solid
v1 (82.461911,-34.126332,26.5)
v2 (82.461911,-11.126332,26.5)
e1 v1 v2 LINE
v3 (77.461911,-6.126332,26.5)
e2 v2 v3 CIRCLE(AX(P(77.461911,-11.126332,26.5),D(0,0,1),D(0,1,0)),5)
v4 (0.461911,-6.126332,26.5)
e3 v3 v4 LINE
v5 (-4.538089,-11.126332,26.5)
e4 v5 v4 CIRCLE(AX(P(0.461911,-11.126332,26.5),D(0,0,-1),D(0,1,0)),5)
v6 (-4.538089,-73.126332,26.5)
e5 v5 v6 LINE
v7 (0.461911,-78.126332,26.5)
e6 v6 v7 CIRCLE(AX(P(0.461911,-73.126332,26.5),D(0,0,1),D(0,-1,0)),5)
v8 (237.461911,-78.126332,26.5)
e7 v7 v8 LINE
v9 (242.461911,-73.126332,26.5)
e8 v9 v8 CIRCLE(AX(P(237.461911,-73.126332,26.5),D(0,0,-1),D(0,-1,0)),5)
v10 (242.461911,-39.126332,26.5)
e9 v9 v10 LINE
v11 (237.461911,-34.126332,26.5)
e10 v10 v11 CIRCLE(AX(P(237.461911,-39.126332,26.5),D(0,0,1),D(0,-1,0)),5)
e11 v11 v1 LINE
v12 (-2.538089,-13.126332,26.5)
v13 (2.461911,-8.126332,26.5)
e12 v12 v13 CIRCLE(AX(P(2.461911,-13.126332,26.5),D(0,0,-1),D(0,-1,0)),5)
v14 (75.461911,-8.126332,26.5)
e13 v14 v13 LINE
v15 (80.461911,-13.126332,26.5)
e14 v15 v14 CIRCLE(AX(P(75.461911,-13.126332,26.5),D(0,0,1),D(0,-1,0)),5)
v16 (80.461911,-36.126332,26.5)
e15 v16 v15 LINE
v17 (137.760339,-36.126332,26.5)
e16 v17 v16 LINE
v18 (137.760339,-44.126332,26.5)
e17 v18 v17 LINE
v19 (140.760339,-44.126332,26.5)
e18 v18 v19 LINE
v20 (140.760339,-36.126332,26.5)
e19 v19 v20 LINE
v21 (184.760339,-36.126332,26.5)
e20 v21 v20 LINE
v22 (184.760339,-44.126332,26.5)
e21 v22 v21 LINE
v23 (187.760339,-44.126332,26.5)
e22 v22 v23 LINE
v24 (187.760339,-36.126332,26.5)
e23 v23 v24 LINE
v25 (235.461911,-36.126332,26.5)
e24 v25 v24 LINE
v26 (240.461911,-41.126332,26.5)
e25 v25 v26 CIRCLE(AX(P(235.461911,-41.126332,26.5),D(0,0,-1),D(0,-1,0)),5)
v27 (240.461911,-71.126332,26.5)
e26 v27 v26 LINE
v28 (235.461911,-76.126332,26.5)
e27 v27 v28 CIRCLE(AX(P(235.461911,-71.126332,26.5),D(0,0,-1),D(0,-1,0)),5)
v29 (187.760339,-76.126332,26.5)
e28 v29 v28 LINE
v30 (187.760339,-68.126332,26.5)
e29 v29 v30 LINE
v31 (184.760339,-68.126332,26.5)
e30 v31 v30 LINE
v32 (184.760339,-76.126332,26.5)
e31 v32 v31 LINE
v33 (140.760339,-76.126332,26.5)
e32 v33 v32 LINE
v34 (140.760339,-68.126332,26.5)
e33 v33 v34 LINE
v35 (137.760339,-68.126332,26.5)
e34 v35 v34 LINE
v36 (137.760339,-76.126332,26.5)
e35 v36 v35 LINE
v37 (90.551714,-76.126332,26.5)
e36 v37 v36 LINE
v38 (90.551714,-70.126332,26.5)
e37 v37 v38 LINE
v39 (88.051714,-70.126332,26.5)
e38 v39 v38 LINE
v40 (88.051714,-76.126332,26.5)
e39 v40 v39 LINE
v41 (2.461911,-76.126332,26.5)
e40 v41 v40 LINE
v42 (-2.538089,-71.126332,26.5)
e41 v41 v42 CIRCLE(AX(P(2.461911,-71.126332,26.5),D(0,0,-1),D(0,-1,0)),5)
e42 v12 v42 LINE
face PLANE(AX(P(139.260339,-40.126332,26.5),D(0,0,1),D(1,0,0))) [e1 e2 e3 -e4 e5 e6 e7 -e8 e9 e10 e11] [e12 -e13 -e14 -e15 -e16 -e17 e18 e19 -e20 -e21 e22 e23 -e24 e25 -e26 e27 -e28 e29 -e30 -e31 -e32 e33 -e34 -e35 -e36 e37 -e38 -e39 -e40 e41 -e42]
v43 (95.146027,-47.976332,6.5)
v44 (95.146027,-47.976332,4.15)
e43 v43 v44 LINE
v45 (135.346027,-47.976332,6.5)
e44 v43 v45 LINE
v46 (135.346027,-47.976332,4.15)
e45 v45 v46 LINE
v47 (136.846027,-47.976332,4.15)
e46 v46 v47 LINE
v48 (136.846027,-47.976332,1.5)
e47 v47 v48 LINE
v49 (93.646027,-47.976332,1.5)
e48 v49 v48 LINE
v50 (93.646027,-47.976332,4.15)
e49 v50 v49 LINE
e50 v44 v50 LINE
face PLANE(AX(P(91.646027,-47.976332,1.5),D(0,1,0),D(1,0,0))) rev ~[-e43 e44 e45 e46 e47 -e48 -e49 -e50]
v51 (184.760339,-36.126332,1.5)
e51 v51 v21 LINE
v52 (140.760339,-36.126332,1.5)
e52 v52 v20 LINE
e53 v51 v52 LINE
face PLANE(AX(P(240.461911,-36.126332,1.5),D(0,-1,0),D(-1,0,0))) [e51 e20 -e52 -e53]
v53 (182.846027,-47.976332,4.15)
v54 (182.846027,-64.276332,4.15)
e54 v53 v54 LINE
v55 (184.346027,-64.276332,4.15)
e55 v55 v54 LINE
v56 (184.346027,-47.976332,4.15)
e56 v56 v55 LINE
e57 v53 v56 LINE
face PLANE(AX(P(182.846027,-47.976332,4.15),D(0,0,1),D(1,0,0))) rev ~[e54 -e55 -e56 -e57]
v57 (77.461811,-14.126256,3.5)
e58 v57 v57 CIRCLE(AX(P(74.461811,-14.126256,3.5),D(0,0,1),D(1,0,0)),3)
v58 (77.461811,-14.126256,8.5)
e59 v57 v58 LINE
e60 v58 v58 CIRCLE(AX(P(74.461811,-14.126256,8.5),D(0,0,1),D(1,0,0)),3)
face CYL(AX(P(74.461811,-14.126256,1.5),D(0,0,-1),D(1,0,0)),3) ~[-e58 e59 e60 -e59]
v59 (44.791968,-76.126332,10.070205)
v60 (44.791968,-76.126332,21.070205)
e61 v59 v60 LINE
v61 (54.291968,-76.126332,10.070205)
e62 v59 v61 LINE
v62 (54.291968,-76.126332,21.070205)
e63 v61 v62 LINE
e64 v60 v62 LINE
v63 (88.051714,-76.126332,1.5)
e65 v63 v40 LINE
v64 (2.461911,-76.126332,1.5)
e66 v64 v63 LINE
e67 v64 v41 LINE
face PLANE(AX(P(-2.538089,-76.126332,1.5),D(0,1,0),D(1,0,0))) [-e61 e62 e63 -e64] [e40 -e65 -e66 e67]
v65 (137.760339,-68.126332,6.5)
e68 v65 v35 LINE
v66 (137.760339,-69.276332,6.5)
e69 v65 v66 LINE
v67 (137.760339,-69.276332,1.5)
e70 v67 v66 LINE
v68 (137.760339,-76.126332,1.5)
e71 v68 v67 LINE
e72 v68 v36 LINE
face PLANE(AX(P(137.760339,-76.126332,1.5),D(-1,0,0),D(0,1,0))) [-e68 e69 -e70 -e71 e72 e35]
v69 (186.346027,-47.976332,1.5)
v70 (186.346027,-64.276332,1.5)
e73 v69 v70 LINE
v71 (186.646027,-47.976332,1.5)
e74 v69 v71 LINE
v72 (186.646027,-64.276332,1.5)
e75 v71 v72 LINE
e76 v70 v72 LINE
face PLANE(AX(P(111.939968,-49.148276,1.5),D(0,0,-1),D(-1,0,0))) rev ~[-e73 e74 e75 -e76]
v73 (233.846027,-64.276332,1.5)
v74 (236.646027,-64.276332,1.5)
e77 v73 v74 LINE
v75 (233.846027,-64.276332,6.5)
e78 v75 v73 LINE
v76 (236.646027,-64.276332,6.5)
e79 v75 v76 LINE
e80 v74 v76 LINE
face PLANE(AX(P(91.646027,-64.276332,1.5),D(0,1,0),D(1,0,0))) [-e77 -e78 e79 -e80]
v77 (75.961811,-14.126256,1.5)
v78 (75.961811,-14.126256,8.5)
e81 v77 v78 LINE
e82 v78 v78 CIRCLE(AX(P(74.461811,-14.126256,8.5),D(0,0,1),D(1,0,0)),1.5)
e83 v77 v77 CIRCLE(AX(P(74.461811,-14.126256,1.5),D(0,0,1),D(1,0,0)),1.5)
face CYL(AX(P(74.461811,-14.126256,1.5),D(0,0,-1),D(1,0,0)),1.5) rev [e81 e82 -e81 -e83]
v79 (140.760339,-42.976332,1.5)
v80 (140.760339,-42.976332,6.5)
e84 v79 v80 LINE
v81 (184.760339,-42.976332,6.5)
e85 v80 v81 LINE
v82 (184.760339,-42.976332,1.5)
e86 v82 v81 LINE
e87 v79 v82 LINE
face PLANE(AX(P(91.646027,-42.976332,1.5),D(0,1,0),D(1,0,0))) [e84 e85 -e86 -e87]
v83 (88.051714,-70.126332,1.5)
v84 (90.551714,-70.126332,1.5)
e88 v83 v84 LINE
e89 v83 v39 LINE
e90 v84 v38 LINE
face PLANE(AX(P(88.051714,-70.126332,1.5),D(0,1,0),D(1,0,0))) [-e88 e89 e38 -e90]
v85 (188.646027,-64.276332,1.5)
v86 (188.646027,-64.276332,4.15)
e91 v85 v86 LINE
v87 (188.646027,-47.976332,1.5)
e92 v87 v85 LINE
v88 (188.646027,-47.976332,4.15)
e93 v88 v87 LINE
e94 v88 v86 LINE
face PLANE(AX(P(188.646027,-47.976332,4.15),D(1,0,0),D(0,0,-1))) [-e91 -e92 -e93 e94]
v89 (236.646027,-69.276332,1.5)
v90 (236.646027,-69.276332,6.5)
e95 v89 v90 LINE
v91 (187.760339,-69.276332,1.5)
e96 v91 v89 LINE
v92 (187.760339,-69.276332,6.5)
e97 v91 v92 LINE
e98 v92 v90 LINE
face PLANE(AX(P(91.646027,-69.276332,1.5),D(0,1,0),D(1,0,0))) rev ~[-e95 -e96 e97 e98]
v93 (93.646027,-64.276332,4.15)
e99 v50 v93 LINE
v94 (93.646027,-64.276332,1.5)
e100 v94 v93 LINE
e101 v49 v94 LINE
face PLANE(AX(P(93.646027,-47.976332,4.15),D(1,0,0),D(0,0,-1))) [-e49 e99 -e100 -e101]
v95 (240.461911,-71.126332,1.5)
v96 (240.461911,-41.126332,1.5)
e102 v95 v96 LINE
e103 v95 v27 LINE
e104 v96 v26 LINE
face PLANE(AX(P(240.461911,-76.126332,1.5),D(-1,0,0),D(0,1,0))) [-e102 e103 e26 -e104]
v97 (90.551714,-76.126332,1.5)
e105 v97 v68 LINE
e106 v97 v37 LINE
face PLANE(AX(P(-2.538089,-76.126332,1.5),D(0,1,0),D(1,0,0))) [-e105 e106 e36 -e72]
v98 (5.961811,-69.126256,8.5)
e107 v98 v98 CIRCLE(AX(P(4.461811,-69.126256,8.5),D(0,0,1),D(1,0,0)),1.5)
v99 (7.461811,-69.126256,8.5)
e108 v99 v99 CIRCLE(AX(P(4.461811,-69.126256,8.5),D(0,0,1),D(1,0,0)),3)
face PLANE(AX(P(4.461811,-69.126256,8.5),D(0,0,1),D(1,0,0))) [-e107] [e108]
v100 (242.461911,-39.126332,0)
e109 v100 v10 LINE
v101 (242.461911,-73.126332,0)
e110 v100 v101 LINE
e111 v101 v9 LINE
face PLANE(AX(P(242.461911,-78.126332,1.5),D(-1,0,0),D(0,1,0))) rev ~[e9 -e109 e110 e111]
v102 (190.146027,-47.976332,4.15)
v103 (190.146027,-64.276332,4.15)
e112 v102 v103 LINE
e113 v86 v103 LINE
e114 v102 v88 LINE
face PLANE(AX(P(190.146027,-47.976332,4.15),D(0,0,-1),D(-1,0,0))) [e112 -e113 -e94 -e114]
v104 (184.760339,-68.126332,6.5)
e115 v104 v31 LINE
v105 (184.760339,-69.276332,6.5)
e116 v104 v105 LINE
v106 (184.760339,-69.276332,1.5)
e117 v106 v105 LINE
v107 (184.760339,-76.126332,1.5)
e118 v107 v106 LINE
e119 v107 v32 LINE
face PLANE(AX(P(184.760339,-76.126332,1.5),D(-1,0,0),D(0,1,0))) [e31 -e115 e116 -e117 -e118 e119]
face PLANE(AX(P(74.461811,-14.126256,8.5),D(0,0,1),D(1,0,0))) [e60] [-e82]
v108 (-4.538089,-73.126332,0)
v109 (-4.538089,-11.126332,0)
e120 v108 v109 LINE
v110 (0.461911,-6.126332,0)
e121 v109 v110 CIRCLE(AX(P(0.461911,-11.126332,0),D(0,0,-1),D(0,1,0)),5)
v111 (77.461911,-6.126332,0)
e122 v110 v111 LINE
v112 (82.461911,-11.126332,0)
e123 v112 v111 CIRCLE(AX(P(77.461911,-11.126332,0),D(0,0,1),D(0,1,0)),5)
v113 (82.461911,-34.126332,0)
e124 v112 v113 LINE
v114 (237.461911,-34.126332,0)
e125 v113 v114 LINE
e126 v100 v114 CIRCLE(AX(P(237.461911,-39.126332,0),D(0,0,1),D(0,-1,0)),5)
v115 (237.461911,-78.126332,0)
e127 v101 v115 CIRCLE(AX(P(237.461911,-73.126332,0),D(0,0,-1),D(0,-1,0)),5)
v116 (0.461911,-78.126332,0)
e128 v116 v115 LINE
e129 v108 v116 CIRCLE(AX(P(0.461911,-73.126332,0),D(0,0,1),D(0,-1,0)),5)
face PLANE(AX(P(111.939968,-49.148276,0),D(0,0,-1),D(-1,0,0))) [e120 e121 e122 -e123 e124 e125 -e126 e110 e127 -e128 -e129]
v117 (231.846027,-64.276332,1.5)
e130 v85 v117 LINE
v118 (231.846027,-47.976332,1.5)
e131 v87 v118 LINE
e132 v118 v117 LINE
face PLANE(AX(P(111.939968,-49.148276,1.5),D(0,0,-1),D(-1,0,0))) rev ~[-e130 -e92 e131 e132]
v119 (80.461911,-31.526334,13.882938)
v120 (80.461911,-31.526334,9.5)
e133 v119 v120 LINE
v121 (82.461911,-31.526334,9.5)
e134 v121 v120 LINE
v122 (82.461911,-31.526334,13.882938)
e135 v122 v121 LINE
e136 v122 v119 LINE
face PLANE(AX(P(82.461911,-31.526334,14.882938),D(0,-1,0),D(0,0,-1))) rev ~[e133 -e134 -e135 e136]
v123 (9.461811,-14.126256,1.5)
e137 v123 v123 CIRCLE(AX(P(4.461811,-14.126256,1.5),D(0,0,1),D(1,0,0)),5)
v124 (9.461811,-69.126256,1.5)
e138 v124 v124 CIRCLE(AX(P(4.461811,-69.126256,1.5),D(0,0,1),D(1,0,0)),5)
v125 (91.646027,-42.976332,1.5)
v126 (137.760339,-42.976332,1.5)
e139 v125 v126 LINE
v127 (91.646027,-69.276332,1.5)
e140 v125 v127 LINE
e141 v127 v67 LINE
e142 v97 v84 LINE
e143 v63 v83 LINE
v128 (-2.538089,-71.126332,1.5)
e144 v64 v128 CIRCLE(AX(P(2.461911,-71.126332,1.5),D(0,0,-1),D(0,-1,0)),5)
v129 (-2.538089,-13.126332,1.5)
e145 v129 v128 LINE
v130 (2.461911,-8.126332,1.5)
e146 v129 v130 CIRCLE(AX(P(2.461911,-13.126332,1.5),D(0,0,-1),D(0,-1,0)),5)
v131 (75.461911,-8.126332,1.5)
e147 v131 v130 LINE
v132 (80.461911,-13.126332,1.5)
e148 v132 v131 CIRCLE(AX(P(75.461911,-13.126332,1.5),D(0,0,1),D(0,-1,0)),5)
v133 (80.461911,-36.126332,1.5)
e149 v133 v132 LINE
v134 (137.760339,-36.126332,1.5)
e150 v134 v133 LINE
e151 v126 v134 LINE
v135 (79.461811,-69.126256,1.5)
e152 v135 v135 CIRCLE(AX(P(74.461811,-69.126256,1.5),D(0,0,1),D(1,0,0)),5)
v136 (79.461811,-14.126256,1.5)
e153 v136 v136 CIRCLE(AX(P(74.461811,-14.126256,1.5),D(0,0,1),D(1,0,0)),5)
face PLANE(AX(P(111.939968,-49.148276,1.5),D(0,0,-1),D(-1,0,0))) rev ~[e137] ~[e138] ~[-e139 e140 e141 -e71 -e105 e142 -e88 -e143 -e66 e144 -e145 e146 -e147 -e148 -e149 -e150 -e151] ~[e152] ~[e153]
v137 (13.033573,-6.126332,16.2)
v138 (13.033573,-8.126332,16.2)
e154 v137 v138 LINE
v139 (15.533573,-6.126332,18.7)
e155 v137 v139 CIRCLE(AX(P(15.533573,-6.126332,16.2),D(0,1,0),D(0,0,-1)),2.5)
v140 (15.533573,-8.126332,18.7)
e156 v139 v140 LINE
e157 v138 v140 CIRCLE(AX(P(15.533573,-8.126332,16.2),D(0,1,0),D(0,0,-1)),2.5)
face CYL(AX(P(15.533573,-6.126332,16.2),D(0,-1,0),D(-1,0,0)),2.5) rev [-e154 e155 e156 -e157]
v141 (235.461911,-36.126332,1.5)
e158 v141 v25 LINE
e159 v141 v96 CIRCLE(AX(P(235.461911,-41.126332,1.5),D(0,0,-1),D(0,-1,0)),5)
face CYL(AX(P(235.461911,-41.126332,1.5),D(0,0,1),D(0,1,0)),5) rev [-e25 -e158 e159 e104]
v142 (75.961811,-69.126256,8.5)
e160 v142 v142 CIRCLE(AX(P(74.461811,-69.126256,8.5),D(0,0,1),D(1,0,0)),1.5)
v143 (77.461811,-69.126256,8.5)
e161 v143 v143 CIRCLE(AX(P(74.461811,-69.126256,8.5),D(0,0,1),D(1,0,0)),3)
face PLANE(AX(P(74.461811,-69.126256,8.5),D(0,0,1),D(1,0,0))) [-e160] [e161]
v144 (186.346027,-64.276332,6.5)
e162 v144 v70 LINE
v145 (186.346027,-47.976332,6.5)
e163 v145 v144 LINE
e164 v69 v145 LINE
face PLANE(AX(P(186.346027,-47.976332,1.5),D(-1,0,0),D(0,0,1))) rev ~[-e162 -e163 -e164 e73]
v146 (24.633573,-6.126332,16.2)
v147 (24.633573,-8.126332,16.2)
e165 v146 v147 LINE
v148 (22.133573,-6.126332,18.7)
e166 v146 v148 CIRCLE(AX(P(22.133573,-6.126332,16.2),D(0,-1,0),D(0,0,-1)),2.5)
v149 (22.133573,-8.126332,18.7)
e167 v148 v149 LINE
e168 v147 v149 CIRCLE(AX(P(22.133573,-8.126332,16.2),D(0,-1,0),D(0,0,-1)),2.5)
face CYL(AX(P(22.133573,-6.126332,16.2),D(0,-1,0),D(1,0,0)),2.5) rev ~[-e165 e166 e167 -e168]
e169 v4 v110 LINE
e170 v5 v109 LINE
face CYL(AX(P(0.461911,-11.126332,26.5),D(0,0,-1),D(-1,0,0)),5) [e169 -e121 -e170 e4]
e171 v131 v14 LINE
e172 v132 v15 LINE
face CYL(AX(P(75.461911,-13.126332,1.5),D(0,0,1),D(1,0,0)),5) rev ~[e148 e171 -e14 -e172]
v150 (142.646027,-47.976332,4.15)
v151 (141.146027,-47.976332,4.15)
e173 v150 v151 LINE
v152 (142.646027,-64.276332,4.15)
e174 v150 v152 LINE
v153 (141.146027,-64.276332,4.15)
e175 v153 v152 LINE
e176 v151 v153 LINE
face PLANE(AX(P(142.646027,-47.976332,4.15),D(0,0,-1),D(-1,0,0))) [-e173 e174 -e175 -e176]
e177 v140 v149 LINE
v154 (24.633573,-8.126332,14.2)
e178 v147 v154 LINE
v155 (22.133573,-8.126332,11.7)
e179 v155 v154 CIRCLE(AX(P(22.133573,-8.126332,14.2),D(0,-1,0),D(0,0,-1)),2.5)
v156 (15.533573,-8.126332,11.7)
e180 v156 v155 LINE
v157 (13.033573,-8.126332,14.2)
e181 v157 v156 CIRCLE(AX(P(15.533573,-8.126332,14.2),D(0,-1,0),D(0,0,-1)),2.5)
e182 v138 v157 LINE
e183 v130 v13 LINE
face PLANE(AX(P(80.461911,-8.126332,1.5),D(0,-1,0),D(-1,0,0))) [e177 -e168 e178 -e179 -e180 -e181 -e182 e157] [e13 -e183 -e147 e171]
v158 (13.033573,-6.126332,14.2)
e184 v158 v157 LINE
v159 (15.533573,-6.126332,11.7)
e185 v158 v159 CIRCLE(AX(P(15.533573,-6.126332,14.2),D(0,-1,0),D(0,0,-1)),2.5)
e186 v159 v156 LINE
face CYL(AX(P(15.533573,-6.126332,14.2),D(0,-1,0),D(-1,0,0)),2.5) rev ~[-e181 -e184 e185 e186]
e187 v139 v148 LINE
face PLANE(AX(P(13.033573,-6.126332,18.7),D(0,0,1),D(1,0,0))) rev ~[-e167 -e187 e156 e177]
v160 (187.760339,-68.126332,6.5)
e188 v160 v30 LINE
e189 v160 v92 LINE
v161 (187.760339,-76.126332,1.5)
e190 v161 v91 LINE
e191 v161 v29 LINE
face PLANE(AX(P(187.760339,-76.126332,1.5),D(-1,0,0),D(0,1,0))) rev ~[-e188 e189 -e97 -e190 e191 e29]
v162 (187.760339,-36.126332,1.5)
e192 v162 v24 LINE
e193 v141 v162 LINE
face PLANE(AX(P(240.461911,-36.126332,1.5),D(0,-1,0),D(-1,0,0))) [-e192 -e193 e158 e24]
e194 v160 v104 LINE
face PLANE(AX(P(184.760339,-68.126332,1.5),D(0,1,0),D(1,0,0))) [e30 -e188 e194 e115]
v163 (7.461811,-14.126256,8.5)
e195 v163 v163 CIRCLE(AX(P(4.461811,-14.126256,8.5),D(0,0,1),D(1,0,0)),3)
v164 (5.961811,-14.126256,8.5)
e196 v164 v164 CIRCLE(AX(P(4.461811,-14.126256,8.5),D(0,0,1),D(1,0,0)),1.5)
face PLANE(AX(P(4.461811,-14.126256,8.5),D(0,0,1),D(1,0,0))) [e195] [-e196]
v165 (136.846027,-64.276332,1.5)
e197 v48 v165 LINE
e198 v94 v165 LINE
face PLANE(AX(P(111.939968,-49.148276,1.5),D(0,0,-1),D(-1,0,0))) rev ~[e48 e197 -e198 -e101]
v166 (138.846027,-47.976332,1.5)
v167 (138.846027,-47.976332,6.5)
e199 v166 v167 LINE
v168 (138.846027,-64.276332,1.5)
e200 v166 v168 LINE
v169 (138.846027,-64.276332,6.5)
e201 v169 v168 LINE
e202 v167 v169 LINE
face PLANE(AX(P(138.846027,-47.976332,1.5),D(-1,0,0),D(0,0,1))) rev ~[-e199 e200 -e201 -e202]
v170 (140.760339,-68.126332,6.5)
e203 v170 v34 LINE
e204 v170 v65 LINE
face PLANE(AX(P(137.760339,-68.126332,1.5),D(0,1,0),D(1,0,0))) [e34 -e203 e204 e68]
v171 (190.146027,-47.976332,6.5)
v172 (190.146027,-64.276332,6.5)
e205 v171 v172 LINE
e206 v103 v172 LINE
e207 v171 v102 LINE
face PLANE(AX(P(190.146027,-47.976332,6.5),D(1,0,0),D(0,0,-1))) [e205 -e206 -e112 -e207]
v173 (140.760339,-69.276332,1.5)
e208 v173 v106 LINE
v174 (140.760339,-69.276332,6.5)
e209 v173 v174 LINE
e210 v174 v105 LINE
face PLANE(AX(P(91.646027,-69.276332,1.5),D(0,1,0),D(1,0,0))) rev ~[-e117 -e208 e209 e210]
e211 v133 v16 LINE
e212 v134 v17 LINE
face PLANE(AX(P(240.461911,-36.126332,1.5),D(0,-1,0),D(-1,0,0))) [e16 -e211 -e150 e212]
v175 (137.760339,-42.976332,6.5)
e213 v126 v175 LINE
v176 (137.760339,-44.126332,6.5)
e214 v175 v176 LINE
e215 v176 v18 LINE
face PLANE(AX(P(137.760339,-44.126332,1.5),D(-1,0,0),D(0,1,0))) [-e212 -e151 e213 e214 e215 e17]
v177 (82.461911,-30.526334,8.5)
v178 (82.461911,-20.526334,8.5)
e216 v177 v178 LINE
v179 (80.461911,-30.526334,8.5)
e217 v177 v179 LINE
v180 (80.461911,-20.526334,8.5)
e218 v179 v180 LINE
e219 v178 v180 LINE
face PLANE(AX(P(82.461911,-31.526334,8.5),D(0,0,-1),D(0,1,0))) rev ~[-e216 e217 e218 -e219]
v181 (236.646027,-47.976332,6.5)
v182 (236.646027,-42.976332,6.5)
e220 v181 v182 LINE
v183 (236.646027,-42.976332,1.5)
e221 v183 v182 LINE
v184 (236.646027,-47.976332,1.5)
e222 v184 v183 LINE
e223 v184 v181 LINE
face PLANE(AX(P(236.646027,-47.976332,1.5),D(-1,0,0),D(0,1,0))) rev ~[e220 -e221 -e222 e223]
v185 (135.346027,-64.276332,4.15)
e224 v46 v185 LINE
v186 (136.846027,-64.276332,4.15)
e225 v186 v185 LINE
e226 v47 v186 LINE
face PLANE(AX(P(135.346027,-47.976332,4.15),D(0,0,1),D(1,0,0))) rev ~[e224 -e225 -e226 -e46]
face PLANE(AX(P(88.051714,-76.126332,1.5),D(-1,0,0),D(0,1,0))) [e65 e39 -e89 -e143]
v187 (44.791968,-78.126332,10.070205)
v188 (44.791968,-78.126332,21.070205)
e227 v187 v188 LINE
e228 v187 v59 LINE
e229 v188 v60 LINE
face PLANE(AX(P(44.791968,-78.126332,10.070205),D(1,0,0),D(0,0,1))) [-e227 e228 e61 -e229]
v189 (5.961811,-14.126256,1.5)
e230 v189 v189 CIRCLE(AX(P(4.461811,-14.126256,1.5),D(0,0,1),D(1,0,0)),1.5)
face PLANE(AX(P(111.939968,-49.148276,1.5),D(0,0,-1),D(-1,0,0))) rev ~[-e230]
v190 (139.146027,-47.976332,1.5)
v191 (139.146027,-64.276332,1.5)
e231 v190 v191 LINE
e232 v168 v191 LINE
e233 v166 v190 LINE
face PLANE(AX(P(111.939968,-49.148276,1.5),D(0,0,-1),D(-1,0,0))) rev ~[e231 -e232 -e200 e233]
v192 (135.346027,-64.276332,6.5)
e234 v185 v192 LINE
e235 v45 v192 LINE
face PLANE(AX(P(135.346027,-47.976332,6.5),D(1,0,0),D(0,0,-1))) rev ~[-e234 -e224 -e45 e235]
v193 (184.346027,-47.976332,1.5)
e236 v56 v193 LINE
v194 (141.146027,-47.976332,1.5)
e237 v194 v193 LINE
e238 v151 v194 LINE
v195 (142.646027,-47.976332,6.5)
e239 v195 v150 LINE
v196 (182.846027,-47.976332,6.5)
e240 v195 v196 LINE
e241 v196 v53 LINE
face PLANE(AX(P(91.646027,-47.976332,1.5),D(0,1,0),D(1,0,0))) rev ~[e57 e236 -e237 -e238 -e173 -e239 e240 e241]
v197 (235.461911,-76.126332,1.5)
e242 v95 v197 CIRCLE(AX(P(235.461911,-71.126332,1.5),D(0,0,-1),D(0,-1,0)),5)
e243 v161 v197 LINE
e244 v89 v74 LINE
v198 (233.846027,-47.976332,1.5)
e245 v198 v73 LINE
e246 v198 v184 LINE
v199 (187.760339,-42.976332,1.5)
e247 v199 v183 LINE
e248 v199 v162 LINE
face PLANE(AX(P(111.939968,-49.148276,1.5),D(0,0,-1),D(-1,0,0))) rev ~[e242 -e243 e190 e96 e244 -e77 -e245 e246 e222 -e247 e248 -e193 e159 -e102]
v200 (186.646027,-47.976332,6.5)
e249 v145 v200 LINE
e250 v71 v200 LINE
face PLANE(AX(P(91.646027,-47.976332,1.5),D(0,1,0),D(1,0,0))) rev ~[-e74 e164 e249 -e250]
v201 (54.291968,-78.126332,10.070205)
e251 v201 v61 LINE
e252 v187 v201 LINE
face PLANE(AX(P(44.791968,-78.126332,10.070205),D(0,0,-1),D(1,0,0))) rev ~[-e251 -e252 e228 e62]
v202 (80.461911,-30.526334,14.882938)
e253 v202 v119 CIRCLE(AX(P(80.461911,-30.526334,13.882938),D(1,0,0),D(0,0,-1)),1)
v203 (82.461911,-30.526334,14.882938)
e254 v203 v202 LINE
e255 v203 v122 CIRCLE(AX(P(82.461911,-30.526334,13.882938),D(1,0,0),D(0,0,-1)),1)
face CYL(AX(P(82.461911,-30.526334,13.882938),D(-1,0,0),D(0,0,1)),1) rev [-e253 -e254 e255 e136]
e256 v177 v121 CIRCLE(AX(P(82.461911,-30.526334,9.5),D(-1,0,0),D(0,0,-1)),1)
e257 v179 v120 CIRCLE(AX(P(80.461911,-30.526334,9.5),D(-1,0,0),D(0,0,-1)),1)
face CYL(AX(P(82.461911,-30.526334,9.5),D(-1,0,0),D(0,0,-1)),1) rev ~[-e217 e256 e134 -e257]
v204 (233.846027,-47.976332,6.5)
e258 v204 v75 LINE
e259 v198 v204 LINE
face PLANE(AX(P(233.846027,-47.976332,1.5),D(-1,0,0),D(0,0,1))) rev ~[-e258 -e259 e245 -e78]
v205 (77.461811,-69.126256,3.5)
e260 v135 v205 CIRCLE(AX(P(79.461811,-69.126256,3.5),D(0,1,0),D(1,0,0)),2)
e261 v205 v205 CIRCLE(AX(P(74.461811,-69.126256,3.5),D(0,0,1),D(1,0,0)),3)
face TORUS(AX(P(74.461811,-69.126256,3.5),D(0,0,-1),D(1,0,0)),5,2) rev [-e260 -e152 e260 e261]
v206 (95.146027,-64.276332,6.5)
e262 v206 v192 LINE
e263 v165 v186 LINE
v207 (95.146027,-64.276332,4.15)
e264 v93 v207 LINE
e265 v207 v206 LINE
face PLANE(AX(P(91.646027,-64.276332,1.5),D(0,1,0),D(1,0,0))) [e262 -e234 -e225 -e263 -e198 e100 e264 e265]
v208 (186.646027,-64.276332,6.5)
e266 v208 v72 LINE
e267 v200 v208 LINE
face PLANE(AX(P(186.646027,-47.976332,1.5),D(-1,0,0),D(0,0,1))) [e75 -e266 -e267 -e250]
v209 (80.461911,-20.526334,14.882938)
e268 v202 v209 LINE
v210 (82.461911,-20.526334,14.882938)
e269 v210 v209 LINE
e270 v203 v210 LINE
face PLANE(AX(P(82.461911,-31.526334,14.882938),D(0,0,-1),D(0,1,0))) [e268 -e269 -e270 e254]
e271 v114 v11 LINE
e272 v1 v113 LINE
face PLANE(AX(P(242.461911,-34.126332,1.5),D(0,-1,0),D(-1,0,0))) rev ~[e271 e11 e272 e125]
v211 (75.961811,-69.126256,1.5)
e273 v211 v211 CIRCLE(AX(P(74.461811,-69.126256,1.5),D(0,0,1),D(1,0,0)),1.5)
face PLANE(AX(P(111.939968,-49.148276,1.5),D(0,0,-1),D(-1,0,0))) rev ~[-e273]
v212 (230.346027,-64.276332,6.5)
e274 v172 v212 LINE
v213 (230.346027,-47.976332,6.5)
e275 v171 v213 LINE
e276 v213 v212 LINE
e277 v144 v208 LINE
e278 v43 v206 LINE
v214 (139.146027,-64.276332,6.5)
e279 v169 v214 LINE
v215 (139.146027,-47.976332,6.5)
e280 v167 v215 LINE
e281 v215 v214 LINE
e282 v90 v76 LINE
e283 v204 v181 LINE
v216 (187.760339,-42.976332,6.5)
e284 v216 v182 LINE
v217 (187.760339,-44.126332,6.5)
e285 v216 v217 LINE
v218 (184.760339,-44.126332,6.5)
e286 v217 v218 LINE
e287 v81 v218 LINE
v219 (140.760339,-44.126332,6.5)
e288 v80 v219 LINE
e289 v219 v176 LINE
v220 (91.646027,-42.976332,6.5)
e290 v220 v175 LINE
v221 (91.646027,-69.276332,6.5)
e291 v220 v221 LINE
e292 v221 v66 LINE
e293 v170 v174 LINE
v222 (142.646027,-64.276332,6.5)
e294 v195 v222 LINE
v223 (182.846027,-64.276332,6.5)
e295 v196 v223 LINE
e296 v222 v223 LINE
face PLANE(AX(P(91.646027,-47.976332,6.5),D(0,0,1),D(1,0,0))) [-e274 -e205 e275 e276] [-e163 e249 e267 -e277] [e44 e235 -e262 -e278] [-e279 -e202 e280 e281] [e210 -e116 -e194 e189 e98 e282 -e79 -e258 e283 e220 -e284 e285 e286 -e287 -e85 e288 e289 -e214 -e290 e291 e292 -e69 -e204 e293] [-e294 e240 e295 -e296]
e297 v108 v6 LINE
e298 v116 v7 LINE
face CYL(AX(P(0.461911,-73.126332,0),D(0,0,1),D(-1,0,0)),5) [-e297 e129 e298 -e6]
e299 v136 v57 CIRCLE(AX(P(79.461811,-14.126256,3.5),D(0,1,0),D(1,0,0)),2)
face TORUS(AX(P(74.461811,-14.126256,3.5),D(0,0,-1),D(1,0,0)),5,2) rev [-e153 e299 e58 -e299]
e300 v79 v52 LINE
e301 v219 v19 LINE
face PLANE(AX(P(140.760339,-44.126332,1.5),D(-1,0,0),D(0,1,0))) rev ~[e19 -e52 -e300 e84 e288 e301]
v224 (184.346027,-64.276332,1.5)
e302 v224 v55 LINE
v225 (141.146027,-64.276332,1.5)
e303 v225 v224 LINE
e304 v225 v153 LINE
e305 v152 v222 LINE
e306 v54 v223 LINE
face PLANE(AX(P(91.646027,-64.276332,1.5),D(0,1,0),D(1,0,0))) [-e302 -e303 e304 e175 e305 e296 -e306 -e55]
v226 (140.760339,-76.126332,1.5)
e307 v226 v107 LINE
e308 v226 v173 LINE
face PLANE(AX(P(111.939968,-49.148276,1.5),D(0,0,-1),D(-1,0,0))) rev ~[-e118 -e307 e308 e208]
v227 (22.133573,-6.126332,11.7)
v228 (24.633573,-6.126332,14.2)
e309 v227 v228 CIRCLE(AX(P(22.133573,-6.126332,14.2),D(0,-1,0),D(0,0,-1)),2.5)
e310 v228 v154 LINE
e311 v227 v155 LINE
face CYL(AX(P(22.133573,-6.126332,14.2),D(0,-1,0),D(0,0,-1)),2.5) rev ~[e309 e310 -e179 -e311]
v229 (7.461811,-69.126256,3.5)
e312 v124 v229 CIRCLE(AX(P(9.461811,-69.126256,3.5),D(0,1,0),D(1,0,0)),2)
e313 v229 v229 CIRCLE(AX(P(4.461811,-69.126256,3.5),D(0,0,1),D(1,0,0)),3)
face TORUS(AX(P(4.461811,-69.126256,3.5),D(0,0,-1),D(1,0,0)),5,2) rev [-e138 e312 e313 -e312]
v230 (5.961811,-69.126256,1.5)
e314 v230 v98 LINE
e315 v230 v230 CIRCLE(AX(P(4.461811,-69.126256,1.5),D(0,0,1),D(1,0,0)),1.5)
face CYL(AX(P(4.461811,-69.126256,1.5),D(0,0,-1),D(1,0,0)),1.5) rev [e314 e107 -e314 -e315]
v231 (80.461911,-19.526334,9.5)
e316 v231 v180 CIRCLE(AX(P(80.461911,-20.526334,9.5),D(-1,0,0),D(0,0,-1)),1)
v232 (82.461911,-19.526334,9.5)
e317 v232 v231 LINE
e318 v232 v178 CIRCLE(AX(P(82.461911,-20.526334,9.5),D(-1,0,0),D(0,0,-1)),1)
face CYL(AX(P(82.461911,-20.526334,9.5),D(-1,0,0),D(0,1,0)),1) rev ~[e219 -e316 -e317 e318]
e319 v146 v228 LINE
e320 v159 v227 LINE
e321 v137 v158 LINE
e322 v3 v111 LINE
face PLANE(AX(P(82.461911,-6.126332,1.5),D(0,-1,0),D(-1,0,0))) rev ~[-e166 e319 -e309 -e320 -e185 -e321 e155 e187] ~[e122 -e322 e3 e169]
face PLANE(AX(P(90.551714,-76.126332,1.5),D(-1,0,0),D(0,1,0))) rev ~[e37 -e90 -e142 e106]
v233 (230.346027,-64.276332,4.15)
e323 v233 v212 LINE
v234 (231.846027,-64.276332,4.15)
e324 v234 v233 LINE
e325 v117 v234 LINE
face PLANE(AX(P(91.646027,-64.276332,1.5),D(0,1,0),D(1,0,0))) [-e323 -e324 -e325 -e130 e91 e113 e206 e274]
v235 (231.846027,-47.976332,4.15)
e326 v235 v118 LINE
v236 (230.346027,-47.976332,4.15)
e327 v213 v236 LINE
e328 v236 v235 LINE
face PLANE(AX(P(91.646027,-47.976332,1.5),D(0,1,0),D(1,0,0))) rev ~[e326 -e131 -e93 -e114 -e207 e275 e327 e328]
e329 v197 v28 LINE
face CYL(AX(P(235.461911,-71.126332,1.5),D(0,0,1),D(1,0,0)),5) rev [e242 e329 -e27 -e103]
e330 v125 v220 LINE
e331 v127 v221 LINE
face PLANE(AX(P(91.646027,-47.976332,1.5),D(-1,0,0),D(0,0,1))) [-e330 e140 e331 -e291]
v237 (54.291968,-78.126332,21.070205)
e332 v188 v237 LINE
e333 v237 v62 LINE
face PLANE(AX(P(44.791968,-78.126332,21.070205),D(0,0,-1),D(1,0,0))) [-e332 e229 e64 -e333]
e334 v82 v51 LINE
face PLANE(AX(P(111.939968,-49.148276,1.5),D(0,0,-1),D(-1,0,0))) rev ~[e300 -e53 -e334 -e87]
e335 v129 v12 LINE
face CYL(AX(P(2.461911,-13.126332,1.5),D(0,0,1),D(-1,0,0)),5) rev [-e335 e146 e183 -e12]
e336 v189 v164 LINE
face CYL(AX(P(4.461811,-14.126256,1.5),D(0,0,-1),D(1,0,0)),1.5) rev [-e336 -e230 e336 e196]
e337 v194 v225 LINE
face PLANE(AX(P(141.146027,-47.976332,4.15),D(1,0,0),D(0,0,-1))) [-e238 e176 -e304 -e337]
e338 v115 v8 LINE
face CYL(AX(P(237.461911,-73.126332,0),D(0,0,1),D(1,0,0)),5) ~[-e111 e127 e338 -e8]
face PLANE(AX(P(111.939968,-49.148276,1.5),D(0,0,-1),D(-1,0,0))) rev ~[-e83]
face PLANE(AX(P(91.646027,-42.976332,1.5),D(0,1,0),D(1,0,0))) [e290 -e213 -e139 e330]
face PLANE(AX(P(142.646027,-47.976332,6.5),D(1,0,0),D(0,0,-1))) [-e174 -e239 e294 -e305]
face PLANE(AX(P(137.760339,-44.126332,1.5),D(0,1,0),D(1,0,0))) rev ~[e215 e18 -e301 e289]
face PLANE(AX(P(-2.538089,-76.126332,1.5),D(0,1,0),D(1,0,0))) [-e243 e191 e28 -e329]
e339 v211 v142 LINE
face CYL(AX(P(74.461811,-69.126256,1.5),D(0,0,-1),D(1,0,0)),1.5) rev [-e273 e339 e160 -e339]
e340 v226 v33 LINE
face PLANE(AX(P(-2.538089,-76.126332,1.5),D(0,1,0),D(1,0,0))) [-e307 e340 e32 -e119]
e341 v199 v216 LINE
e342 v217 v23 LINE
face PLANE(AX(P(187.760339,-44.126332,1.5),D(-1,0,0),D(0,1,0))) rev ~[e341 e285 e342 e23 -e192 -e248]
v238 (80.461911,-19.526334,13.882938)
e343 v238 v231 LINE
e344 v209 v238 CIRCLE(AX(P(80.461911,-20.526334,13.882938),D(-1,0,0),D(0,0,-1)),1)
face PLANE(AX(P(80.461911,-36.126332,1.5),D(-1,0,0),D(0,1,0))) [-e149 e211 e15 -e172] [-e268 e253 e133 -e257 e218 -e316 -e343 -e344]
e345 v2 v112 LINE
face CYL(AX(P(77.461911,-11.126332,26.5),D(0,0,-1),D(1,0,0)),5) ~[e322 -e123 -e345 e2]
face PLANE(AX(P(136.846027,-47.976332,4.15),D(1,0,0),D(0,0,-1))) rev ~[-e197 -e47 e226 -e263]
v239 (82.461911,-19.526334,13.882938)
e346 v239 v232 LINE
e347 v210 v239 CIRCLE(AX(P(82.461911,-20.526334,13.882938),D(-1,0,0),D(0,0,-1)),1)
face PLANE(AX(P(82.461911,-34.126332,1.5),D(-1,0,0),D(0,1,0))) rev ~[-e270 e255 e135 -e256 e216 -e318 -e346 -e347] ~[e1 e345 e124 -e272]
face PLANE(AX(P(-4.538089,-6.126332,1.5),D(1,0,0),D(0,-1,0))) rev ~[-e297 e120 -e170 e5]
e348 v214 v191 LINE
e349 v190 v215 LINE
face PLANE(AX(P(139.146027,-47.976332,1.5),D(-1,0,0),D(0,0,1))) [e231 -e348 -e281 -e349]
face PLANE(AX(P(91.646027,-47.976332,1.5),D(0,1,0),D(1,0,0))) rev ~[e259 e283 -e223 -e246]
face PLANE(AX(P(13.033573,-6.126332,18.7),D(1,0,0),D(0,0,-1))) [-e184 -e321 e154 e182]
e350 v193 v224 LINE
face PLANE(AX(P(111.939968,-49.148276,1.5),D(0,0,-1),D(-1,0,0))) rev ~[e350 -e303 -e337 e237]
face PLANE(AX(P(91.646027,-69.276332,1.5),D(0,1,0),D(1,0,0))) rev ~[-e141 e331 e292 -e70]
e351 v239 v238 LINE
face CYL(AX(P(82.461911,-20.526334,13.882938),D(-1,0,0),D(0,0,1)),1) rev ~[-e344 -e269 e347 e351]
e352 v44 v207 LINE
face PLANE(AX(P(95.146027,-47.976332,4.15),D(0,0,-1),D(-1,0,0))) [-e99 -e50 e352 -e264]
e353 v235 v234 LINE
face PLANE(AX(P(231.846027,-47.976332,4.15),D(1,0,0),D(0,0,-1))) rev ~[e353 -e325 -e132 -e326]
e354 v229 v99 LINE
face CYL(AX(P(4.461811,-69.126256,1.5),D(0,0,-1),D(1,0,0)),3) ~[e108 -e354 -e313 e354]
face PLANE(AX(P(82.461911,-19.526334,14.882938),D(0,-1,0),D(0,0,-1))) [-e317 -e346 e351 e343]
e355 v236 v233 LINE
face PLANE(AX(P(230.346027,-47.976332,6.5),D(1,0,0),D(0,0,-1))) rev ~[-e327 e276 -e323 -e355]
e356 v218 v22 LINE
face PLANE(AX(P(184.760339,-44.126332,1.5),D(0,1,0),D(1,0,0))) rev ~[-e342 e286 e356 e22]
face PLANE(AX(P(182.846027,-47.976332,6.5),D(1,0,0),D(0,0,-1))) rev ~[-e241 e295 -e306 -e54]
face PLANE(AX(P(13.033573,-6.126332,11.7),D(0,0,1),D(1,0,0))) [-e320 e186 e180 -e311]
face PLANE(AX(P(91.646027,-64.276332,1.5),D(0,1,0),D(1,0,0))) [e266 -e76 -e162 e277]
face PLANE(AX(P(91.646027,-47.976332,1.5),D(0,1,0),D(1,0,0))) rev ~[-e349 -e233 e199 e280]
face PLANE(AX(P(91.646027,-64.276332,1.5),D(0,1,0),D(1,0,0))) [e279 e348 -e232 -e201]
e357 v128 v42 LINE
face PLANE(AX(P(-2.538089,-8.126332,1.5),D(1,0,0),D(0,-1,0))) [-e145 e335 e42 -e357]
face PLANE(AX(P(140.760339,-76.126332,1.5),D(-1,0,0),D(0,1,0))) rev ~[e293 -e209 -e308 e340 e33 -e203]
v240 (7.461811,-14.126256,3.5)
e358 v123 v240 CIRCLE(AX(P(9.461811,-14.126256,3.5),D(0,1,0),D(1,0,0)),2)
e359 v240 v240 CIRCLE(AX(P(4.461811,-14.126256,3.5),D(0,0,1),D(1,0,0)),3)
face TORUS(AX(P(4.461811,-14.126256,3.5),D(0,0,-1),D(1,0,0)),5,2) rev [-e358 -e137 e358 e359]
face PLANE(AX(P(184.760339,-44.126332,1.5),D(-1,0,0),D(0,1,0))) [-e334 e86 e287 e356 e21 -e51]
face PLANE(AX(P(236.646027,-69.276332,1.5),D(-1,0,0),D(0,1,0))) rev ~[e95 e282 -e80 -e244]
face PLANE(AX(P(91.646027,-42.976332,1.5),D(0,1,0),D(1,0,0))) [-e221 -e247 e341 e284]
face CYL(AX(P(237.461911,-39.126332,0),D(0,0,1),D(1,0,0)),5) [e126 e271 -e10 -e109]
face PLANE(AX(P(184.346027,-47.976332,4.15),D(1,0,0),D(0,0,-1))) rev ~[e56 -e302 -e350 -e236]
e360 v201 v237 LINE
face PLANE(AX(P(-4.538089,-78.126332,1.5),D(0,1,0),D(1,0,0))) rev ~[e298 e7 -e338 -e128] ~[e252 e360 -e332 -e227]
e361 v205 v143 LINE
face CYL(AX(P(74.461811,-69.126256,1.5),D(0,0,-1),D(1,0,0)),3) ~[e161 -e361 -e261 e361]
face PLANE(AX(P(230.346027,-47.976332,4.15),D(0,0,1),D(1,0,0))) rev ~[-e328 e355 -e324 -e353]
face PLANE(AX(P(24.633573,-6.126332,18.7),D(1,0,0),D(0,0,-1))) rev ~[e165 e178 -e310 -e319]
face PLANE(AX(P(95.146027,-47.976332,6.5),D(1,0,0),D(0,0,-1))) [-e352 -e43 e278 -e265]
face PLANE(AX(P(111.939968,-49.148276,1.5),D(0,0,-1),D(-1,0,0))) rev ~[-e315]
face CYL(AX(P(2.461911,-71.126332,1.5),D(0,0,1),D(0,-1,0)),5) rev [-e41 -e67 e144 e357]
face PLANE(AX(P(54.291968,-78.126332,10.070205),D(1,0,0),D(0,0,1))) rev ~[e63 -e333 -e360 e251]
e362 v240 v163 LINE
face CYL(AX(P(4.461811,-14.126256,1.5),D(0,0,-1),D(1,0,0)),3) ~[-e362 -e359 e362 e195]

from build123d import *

# Parameters (mm, degrees)
EXTRUDE_1_DEPTH     = 1.5
EXTRUDE_2_DEPTH     = 25
FILLET_1_R          = 5
SKETCH_3_R          = 3
SKETCH_3_R_2        = 1.5
EXTRUDE_3_DEPTH     = 7
FILLET_2_R          = 2
CUT_EXTRUDE_1_REACH = 182.017
SKETCH_4_W          = 6.382937609
SKETCH_4_H          = 12
FILLET_3_R          = 1
CUT_EXTRUDE_2_REACH = 256.311
SKETCH_5_W          = 11.6
SKETCH_5_H          = 7
FILLET_4_R          = 2.5
SKETCH_6_W          = 145
SKETCH_6_H          = 5
EXTRUDE_4_DEPTH     = 5
EXTRUDE_5_REACH     = 249.47
CUT_EXTRUDE_3_REACH = 256.311
SKETCH_8_W          = 9.5
SKETCH_8_H          = 11
SKETCH_9_W          = 3
SKETCH_9_H          = 8
SKETCH_9_W_2        = 2.5
SKETCH_9_H_2        = 6
EXTRUDE_6_DEPTH     = 25


with BuildPart() as part:
    # 草图1 → 凸台-拉伸1 (new body)
    with BuildSketch(Plane.XY):
        Polygon((104.053507175, -78.126332489), (-4.538088534, -78.126332489), (-4.538088534, -6.126332489), (82.461911466, -6.126332489), (82.461911466, -34.126332489), (242.461911466, -34.126332489), (242.461911466, -78.126332489), align=None)
    extrude(amount=EXTRUDE_1_DEPTH)

    # 草图2 → 凸台-拉伸2 (add)
    with BuildSketch(Plane.XY.offset(1.5)):
        Polygon((-4.538088534, -6.126332489), (-4.538088534, -78.126332489), (242.461911466, -78.126332489), (242.461911466, -34.126332489), (82.461911466, -34.126332489), (82.461911466, -6.126332489), align=None)
        Polygon((80.461911466, -8.126332489), (-2.538088534, -8.126332489), (-2.538088534, -76.126332489), (240.461911466, -76.126332489), (240.461911466, -36.126332489), (80.461911466, -36.126332489), align=None, mode=Mode.SUBTRACT)
    extrude(amount=EXTRUDE_2_DEPTH)

    # 圆角1
    fillet_1_edges = [part.edges().sort_by_distance(p)[0] for p in [
        (-4.538088534, -6.126332489, 13.25),
        (82.461911466, -6.126332489, 13.25),
        (242.461911466, -34.126332489, 13.25),
        (242.461911466, -78.126332489, 13.25),
        (-4.538088534, -78.126332489, 13.25),
        (80.461911466, -8.126332489, 14),
        (-2.538088534, -8.126332489, 14),
        (-2.538088534, -76.126332489, 14),
        (240.461911466, -76.126332489, 14),
        (240.461911466, -36.126332489, 14),
    ]]
    fillet(fillet_1_edges, radius=FILLET_1_R)

    # 草图3 → 凸台-拉伸3 (add)
    # profile 1 of 4: a face of its own
    with BuildSketch(Plane.XY.offset(1.5)):
        with Locations((74.461811484, -14.126255575)):
            Circle(SKETCH_3_R)
        with Locations((74.461811484, -14.126255575)):
            Circle(SKETCH_3_R_2, mode=Mode.SUBTRACT)
    # profile 2 of 4: a face of its own
    with BuildSketch(Plane.XY.offset(1.5)):
        with Locations((4.461811484, -14.126255575)):
            Circle(SKETCH_3_R)
        with Locations((4.461811484, -14.126255575)):
            Circle(SKETCH_3_R_2, mode=Mode.SUBTRACT)
    # profile 3 of 4: a face of its own
    with BuildSketch(Plane.XY.offset(1.5)):
        with Locations((4.461811484, -69.126255575)):
            Circle(SKETCH_3_R)
        with Locations((4.461811484, -69.126255575)):
            Circle(SKETCH_3_R_2, mode=Mode.SUBTRACT)
    # profile 4 of 4: a face of its own
    with BuildSketch(Plane.XY.offset(1.5)):
        with Locations((74.461811484, -69.126255575)):
            Circle(SKETCH_3_R)
        with Locations((74.461811484, -69.126255575)):
            Circle(SKETCH_3_R_2, mode=Mode.SUBTRACT)
    extrude(amount=EXTRUDE_3_DEPTH)

    # 圆角2
    fillet_2_edges = [part.edges().sort_by_distance(p)[0] for p in [
        (71.461811484, -69.126255575, 1.5),
        (1.461811484, -69.126255575, 1.5),
        (1.461811484, -14.126255575, 1.5),
        (71.461811484, -14.126255575, 1.5),
    ]]
    fillet(fillet_2_edges, radius=FILLET_2_R)

    # 草图4 → 切除-拉伸1 (cut, up to next)
    with BuildSketch(Plane(origin=(82.461911466, 0, 0), x_dir=(0, 0, -1), z_dir=(1, 0, 0)), mode=Mode.PRIVATE) as cut_extrude_1_sk1:
        with Locations((-11.691468805, -25.526333622)):
            Rectangle(SKETCH_4_W, SKETCH_4_H)
    cut_extrude_1_tool1 = extrude(cut_extrude_1_sk1.sketch, amount=-CUT_EXTRUDE_1_REACH, mode=Mode.PRIVATE) & part.part
    add(cut_extrude_1_tool1.solids().sort_by_distance((82.461911, -25.526334, 11.691469))[0], mode=Mode.SUBTRACT)

    # 圆角3
    fillet_3_edges = [part.edges().sort_by_distance(p)[0] for p in [
        (81.461911466, -19.526333622, 8.5),
        (81.461911466, -31.526333622, 8.5),
        (81.461911466, -31.526333622, 14.882937609),
        (81.461911466, -19.526333622, 14.882937609),
    ]]
    fillet(fillet_3_edges, radius=FILLET_3_R)

    # 草图5 → 切除-拉伸2 (cut, up to next)
    with BuildSketch(Plane(origin=(0, -6.126332489, 0), x_dir=(1, 0, 0), z_dir=(0, 1, 0)), mode=Mode.PRIVATE) as cut_extrude_2_sk1:
        with Locations((18.833572944, -15.2)):
            Rectangle(SKETCH_5_W, SKETCH_5_H)
    cut_extrude_2_tool1 = extrude(cut_extrude_2_sk1.sketch, amount=-CUT_EXTRUDE_2_REACH, mode=Mode.PRIVATE) & part.part
    add(cut_extrude_2_tool1.solids().sort_by_distance((18.833573, -6.126332, 15.2))[0], mode=Mode.SUBTRACT)

    # 圆角4
    fillet_4_edges = [part.edges().sort_by_distance(p)[0] for p in [
        (24.633572944, -7.126332489, 11.7),
        (24.633572944, -7.126332489, 18.7),
        (13.033572944, -7.126332489, 18.7),
        (13.033572944, -7.126332489, 11.7),
    ]]
    fillet(fillet_4_edges, radius=FILLET_4_R)

    # 草图6 → 凸台-拉伸4 (add)
    with BuildSketch(Plane.XY.offset(1.5)):
        with Locations((164.146026619, -45.476332489)):
            Rectangle(SKETCH_6_W, SKETCH_6_H)
        with Locations((164.146026619, -66.776332489)):
            Rectangle(SKETCH_6_W, SKETCH_6_H)
    extrude(amount=EXTRUDE_4_DEPTH)

    # 草图7 → 凸台-拉伸5 (add, up to next)
    with BuildSketch(Plane.XZ.offset(47.976332489), mode=Mode.PRIVATE) as extrude_5_sk1:
        Polygon((91.646026619, 6.5), (95.146026619, 6.5), (95.146026619, 4.15), (93.646026619, 4.15), (93.646026619, 1.5), (91.646026619, 1.5), align=None)
    extrude_5_tool1 = extrude(extrude_5_sk1.sketch, amount=EXTRUDE_5_REACH, mode=Mode.PRIVATE) - part.part
    # 草图7 → 凸台-拉伸5 (add, up to next)
    with BuildSketch(Plane.XZ.offset(47.976332489), mode=Mode.PRIVATE) as extrude_5_sk2:
        Polygon((138.846026619, 1.5), (138.846026619, 6.5), (135.346026619, 6.5), (135.346026619, 4.15), (136.846026619, 4.15), (136.846026619, 1.5), align=None)
    extrude_5_tool2 = extrude(extrude_5_sk2.sketch, amount=EXTRUDE_5_REACH, mode=Mode.PRIVATE) - part.part
    # 草图7 → 凸台-拉伸5 (add, up to next)
    with BuildSketch(Plane.XZ.offset(47.976332489), mode=Mode.PRIVATE) as extrude_5_sk3:
        Polygon((139.146026619, 1.5), (139.146026619, 6.5), (142.646026619, 6.5), (142.646026619, 4.15), (141.146026619, 4.15), (141.146026619, 1.5), align=None)
    extrude_5_tool3 = extrude(extrude_5_sk3.sketch, amount=EXTRUDE_5_REACH, mode=Mode.PRIVATE) - part.part
    # 草图7 → 凸台-拉伸5 (add, up to next)
    with BuildSketch(Plane.XZ.offset(47.976332489), mode=Mode.PRIVATE) as extrude_5_sk4:
        Polygon((186.346026619, 1.5), (186.346026619, 6.5), (182.846026619, 6.5), (182.846026619, 4.15), (184.346026619, 4.15), (184.346026619, 1.5), align=None)
    extrude_5_tool4 = extrude(extrude_5_sk4.sketch, amount=EXTRUDE_5_REACH, mode=Mode.PRIVATE) - part.part
    # 草图7 → 凸台-拉伸5 (add, up to next)
    with BuildSketch(Plane.XZ.offset(47.976332489), mode=Mode.PRIVATE) as extrude_5_sk5:
        Polygon((186.646026619, 1.5), (186.646026619, 6.5), (190.146026619, 6.5), (190.146026619, 4.15), (188.646026619, 4.15), (188.646026619, 1.5), align=None)
    extrude_5_tool5 = extrude(extrude_5_sk5.sketch, amount=EXTRUDE_5_REACH, mode=Mode.PRIVATE) - part.part
    # 草图7 → 凸台-拉伸5 (add, up to next)
    with BuildSketch(Plane.XZ.offset(47.976332489), mode=Mode.PRIVATE) as extrude_5_sk6:
        Polygon((233.846026619, 1.5), (233.846026619, 6.5), (230.346026619, 6.5), (230.346026619, 4.15), (231.846026619, 4.15), (231.846026619, 1.5), align=None)
    extrude_5_tool6 = extrude(extrude_5_sk6.sketch, amount=EXTRUDE_5_REACH, mode=Mode.PRIVATE) - part.part
    add(extrude_5_tool1.solids().sort_by_distance((93.102126, -47.976332, 4.345333))[0])
    add(extrude_5_tool2.solids().sort_by_distance((137.389927, -47.976332, 4.345333))[0])
    add(extrude_5_tool3.solids().sort_by_distance((140.602126, -47.976332, 4.345333))[0])
    add(extrude_5_tool4.solids().sort_by_distance((184.889927, -47.976332, 4.345333))[0])
    add(extrude_5_tool5.solids().sort_by_distance((188.102126, -47.976332, 4.345333))[0])
    add(extrude_5_tool6.solids().sort_by_distance((232.389927, -47.976332, 4.345333))[0])

    # 草图8 → 切除-拉伸3 (cut, up to next)
    with BuildSketch(Plane.XZ.offset(78.126332489), mode=Mode.PRIVATE) as cut_extrude_3_sk1:
        with Locations((49.541967888, 15.57020515)):
            Rectangle(SKETCH_8_W, SKETCH_8_H)
    cut_extrude_3_tool1 = extrude(cut_extrude_3_sk1.sketch, amount=-CUT_EXTRUDE_3_REACH, mode=Mode.PRIVATE) & part.part
    add(cut_extrude_3_tool1.solids().sort_by_distance((49.541968, -78.126332, 15.570205))[0], mode=Mode.SUBTRACT)

    # 草图9 → 凸台-拉伸6 (add)
    with BuildSketch(Plane.XY.offset(1.5)):
        with Locations((139.260338635, -40.126332489)):
            Rectangle(SKETCH_9_W, SKETCH_9_H)
        with Locations((139.260338635, -72.126332489)):
            Rectangle(SKETCH_9_W, SKETCH_9_H)
        with Locations((186.260338635, -40.126332489)):
            Rectangle(SKETCH_9_W, SKETCH_9_H)
        with Locations((186.260338635, -72.126332489)):
            Rectangle(SKETCH_9_W, SKETCH_9_H)
        with Locations((89.301714301, -73.126332489)):
            Rectangle(SKETCH_9_W_2, SKETCH_9_H_2)
    extrude(amount=EXTRUDE_6_DEPTH)


solid = part.part
